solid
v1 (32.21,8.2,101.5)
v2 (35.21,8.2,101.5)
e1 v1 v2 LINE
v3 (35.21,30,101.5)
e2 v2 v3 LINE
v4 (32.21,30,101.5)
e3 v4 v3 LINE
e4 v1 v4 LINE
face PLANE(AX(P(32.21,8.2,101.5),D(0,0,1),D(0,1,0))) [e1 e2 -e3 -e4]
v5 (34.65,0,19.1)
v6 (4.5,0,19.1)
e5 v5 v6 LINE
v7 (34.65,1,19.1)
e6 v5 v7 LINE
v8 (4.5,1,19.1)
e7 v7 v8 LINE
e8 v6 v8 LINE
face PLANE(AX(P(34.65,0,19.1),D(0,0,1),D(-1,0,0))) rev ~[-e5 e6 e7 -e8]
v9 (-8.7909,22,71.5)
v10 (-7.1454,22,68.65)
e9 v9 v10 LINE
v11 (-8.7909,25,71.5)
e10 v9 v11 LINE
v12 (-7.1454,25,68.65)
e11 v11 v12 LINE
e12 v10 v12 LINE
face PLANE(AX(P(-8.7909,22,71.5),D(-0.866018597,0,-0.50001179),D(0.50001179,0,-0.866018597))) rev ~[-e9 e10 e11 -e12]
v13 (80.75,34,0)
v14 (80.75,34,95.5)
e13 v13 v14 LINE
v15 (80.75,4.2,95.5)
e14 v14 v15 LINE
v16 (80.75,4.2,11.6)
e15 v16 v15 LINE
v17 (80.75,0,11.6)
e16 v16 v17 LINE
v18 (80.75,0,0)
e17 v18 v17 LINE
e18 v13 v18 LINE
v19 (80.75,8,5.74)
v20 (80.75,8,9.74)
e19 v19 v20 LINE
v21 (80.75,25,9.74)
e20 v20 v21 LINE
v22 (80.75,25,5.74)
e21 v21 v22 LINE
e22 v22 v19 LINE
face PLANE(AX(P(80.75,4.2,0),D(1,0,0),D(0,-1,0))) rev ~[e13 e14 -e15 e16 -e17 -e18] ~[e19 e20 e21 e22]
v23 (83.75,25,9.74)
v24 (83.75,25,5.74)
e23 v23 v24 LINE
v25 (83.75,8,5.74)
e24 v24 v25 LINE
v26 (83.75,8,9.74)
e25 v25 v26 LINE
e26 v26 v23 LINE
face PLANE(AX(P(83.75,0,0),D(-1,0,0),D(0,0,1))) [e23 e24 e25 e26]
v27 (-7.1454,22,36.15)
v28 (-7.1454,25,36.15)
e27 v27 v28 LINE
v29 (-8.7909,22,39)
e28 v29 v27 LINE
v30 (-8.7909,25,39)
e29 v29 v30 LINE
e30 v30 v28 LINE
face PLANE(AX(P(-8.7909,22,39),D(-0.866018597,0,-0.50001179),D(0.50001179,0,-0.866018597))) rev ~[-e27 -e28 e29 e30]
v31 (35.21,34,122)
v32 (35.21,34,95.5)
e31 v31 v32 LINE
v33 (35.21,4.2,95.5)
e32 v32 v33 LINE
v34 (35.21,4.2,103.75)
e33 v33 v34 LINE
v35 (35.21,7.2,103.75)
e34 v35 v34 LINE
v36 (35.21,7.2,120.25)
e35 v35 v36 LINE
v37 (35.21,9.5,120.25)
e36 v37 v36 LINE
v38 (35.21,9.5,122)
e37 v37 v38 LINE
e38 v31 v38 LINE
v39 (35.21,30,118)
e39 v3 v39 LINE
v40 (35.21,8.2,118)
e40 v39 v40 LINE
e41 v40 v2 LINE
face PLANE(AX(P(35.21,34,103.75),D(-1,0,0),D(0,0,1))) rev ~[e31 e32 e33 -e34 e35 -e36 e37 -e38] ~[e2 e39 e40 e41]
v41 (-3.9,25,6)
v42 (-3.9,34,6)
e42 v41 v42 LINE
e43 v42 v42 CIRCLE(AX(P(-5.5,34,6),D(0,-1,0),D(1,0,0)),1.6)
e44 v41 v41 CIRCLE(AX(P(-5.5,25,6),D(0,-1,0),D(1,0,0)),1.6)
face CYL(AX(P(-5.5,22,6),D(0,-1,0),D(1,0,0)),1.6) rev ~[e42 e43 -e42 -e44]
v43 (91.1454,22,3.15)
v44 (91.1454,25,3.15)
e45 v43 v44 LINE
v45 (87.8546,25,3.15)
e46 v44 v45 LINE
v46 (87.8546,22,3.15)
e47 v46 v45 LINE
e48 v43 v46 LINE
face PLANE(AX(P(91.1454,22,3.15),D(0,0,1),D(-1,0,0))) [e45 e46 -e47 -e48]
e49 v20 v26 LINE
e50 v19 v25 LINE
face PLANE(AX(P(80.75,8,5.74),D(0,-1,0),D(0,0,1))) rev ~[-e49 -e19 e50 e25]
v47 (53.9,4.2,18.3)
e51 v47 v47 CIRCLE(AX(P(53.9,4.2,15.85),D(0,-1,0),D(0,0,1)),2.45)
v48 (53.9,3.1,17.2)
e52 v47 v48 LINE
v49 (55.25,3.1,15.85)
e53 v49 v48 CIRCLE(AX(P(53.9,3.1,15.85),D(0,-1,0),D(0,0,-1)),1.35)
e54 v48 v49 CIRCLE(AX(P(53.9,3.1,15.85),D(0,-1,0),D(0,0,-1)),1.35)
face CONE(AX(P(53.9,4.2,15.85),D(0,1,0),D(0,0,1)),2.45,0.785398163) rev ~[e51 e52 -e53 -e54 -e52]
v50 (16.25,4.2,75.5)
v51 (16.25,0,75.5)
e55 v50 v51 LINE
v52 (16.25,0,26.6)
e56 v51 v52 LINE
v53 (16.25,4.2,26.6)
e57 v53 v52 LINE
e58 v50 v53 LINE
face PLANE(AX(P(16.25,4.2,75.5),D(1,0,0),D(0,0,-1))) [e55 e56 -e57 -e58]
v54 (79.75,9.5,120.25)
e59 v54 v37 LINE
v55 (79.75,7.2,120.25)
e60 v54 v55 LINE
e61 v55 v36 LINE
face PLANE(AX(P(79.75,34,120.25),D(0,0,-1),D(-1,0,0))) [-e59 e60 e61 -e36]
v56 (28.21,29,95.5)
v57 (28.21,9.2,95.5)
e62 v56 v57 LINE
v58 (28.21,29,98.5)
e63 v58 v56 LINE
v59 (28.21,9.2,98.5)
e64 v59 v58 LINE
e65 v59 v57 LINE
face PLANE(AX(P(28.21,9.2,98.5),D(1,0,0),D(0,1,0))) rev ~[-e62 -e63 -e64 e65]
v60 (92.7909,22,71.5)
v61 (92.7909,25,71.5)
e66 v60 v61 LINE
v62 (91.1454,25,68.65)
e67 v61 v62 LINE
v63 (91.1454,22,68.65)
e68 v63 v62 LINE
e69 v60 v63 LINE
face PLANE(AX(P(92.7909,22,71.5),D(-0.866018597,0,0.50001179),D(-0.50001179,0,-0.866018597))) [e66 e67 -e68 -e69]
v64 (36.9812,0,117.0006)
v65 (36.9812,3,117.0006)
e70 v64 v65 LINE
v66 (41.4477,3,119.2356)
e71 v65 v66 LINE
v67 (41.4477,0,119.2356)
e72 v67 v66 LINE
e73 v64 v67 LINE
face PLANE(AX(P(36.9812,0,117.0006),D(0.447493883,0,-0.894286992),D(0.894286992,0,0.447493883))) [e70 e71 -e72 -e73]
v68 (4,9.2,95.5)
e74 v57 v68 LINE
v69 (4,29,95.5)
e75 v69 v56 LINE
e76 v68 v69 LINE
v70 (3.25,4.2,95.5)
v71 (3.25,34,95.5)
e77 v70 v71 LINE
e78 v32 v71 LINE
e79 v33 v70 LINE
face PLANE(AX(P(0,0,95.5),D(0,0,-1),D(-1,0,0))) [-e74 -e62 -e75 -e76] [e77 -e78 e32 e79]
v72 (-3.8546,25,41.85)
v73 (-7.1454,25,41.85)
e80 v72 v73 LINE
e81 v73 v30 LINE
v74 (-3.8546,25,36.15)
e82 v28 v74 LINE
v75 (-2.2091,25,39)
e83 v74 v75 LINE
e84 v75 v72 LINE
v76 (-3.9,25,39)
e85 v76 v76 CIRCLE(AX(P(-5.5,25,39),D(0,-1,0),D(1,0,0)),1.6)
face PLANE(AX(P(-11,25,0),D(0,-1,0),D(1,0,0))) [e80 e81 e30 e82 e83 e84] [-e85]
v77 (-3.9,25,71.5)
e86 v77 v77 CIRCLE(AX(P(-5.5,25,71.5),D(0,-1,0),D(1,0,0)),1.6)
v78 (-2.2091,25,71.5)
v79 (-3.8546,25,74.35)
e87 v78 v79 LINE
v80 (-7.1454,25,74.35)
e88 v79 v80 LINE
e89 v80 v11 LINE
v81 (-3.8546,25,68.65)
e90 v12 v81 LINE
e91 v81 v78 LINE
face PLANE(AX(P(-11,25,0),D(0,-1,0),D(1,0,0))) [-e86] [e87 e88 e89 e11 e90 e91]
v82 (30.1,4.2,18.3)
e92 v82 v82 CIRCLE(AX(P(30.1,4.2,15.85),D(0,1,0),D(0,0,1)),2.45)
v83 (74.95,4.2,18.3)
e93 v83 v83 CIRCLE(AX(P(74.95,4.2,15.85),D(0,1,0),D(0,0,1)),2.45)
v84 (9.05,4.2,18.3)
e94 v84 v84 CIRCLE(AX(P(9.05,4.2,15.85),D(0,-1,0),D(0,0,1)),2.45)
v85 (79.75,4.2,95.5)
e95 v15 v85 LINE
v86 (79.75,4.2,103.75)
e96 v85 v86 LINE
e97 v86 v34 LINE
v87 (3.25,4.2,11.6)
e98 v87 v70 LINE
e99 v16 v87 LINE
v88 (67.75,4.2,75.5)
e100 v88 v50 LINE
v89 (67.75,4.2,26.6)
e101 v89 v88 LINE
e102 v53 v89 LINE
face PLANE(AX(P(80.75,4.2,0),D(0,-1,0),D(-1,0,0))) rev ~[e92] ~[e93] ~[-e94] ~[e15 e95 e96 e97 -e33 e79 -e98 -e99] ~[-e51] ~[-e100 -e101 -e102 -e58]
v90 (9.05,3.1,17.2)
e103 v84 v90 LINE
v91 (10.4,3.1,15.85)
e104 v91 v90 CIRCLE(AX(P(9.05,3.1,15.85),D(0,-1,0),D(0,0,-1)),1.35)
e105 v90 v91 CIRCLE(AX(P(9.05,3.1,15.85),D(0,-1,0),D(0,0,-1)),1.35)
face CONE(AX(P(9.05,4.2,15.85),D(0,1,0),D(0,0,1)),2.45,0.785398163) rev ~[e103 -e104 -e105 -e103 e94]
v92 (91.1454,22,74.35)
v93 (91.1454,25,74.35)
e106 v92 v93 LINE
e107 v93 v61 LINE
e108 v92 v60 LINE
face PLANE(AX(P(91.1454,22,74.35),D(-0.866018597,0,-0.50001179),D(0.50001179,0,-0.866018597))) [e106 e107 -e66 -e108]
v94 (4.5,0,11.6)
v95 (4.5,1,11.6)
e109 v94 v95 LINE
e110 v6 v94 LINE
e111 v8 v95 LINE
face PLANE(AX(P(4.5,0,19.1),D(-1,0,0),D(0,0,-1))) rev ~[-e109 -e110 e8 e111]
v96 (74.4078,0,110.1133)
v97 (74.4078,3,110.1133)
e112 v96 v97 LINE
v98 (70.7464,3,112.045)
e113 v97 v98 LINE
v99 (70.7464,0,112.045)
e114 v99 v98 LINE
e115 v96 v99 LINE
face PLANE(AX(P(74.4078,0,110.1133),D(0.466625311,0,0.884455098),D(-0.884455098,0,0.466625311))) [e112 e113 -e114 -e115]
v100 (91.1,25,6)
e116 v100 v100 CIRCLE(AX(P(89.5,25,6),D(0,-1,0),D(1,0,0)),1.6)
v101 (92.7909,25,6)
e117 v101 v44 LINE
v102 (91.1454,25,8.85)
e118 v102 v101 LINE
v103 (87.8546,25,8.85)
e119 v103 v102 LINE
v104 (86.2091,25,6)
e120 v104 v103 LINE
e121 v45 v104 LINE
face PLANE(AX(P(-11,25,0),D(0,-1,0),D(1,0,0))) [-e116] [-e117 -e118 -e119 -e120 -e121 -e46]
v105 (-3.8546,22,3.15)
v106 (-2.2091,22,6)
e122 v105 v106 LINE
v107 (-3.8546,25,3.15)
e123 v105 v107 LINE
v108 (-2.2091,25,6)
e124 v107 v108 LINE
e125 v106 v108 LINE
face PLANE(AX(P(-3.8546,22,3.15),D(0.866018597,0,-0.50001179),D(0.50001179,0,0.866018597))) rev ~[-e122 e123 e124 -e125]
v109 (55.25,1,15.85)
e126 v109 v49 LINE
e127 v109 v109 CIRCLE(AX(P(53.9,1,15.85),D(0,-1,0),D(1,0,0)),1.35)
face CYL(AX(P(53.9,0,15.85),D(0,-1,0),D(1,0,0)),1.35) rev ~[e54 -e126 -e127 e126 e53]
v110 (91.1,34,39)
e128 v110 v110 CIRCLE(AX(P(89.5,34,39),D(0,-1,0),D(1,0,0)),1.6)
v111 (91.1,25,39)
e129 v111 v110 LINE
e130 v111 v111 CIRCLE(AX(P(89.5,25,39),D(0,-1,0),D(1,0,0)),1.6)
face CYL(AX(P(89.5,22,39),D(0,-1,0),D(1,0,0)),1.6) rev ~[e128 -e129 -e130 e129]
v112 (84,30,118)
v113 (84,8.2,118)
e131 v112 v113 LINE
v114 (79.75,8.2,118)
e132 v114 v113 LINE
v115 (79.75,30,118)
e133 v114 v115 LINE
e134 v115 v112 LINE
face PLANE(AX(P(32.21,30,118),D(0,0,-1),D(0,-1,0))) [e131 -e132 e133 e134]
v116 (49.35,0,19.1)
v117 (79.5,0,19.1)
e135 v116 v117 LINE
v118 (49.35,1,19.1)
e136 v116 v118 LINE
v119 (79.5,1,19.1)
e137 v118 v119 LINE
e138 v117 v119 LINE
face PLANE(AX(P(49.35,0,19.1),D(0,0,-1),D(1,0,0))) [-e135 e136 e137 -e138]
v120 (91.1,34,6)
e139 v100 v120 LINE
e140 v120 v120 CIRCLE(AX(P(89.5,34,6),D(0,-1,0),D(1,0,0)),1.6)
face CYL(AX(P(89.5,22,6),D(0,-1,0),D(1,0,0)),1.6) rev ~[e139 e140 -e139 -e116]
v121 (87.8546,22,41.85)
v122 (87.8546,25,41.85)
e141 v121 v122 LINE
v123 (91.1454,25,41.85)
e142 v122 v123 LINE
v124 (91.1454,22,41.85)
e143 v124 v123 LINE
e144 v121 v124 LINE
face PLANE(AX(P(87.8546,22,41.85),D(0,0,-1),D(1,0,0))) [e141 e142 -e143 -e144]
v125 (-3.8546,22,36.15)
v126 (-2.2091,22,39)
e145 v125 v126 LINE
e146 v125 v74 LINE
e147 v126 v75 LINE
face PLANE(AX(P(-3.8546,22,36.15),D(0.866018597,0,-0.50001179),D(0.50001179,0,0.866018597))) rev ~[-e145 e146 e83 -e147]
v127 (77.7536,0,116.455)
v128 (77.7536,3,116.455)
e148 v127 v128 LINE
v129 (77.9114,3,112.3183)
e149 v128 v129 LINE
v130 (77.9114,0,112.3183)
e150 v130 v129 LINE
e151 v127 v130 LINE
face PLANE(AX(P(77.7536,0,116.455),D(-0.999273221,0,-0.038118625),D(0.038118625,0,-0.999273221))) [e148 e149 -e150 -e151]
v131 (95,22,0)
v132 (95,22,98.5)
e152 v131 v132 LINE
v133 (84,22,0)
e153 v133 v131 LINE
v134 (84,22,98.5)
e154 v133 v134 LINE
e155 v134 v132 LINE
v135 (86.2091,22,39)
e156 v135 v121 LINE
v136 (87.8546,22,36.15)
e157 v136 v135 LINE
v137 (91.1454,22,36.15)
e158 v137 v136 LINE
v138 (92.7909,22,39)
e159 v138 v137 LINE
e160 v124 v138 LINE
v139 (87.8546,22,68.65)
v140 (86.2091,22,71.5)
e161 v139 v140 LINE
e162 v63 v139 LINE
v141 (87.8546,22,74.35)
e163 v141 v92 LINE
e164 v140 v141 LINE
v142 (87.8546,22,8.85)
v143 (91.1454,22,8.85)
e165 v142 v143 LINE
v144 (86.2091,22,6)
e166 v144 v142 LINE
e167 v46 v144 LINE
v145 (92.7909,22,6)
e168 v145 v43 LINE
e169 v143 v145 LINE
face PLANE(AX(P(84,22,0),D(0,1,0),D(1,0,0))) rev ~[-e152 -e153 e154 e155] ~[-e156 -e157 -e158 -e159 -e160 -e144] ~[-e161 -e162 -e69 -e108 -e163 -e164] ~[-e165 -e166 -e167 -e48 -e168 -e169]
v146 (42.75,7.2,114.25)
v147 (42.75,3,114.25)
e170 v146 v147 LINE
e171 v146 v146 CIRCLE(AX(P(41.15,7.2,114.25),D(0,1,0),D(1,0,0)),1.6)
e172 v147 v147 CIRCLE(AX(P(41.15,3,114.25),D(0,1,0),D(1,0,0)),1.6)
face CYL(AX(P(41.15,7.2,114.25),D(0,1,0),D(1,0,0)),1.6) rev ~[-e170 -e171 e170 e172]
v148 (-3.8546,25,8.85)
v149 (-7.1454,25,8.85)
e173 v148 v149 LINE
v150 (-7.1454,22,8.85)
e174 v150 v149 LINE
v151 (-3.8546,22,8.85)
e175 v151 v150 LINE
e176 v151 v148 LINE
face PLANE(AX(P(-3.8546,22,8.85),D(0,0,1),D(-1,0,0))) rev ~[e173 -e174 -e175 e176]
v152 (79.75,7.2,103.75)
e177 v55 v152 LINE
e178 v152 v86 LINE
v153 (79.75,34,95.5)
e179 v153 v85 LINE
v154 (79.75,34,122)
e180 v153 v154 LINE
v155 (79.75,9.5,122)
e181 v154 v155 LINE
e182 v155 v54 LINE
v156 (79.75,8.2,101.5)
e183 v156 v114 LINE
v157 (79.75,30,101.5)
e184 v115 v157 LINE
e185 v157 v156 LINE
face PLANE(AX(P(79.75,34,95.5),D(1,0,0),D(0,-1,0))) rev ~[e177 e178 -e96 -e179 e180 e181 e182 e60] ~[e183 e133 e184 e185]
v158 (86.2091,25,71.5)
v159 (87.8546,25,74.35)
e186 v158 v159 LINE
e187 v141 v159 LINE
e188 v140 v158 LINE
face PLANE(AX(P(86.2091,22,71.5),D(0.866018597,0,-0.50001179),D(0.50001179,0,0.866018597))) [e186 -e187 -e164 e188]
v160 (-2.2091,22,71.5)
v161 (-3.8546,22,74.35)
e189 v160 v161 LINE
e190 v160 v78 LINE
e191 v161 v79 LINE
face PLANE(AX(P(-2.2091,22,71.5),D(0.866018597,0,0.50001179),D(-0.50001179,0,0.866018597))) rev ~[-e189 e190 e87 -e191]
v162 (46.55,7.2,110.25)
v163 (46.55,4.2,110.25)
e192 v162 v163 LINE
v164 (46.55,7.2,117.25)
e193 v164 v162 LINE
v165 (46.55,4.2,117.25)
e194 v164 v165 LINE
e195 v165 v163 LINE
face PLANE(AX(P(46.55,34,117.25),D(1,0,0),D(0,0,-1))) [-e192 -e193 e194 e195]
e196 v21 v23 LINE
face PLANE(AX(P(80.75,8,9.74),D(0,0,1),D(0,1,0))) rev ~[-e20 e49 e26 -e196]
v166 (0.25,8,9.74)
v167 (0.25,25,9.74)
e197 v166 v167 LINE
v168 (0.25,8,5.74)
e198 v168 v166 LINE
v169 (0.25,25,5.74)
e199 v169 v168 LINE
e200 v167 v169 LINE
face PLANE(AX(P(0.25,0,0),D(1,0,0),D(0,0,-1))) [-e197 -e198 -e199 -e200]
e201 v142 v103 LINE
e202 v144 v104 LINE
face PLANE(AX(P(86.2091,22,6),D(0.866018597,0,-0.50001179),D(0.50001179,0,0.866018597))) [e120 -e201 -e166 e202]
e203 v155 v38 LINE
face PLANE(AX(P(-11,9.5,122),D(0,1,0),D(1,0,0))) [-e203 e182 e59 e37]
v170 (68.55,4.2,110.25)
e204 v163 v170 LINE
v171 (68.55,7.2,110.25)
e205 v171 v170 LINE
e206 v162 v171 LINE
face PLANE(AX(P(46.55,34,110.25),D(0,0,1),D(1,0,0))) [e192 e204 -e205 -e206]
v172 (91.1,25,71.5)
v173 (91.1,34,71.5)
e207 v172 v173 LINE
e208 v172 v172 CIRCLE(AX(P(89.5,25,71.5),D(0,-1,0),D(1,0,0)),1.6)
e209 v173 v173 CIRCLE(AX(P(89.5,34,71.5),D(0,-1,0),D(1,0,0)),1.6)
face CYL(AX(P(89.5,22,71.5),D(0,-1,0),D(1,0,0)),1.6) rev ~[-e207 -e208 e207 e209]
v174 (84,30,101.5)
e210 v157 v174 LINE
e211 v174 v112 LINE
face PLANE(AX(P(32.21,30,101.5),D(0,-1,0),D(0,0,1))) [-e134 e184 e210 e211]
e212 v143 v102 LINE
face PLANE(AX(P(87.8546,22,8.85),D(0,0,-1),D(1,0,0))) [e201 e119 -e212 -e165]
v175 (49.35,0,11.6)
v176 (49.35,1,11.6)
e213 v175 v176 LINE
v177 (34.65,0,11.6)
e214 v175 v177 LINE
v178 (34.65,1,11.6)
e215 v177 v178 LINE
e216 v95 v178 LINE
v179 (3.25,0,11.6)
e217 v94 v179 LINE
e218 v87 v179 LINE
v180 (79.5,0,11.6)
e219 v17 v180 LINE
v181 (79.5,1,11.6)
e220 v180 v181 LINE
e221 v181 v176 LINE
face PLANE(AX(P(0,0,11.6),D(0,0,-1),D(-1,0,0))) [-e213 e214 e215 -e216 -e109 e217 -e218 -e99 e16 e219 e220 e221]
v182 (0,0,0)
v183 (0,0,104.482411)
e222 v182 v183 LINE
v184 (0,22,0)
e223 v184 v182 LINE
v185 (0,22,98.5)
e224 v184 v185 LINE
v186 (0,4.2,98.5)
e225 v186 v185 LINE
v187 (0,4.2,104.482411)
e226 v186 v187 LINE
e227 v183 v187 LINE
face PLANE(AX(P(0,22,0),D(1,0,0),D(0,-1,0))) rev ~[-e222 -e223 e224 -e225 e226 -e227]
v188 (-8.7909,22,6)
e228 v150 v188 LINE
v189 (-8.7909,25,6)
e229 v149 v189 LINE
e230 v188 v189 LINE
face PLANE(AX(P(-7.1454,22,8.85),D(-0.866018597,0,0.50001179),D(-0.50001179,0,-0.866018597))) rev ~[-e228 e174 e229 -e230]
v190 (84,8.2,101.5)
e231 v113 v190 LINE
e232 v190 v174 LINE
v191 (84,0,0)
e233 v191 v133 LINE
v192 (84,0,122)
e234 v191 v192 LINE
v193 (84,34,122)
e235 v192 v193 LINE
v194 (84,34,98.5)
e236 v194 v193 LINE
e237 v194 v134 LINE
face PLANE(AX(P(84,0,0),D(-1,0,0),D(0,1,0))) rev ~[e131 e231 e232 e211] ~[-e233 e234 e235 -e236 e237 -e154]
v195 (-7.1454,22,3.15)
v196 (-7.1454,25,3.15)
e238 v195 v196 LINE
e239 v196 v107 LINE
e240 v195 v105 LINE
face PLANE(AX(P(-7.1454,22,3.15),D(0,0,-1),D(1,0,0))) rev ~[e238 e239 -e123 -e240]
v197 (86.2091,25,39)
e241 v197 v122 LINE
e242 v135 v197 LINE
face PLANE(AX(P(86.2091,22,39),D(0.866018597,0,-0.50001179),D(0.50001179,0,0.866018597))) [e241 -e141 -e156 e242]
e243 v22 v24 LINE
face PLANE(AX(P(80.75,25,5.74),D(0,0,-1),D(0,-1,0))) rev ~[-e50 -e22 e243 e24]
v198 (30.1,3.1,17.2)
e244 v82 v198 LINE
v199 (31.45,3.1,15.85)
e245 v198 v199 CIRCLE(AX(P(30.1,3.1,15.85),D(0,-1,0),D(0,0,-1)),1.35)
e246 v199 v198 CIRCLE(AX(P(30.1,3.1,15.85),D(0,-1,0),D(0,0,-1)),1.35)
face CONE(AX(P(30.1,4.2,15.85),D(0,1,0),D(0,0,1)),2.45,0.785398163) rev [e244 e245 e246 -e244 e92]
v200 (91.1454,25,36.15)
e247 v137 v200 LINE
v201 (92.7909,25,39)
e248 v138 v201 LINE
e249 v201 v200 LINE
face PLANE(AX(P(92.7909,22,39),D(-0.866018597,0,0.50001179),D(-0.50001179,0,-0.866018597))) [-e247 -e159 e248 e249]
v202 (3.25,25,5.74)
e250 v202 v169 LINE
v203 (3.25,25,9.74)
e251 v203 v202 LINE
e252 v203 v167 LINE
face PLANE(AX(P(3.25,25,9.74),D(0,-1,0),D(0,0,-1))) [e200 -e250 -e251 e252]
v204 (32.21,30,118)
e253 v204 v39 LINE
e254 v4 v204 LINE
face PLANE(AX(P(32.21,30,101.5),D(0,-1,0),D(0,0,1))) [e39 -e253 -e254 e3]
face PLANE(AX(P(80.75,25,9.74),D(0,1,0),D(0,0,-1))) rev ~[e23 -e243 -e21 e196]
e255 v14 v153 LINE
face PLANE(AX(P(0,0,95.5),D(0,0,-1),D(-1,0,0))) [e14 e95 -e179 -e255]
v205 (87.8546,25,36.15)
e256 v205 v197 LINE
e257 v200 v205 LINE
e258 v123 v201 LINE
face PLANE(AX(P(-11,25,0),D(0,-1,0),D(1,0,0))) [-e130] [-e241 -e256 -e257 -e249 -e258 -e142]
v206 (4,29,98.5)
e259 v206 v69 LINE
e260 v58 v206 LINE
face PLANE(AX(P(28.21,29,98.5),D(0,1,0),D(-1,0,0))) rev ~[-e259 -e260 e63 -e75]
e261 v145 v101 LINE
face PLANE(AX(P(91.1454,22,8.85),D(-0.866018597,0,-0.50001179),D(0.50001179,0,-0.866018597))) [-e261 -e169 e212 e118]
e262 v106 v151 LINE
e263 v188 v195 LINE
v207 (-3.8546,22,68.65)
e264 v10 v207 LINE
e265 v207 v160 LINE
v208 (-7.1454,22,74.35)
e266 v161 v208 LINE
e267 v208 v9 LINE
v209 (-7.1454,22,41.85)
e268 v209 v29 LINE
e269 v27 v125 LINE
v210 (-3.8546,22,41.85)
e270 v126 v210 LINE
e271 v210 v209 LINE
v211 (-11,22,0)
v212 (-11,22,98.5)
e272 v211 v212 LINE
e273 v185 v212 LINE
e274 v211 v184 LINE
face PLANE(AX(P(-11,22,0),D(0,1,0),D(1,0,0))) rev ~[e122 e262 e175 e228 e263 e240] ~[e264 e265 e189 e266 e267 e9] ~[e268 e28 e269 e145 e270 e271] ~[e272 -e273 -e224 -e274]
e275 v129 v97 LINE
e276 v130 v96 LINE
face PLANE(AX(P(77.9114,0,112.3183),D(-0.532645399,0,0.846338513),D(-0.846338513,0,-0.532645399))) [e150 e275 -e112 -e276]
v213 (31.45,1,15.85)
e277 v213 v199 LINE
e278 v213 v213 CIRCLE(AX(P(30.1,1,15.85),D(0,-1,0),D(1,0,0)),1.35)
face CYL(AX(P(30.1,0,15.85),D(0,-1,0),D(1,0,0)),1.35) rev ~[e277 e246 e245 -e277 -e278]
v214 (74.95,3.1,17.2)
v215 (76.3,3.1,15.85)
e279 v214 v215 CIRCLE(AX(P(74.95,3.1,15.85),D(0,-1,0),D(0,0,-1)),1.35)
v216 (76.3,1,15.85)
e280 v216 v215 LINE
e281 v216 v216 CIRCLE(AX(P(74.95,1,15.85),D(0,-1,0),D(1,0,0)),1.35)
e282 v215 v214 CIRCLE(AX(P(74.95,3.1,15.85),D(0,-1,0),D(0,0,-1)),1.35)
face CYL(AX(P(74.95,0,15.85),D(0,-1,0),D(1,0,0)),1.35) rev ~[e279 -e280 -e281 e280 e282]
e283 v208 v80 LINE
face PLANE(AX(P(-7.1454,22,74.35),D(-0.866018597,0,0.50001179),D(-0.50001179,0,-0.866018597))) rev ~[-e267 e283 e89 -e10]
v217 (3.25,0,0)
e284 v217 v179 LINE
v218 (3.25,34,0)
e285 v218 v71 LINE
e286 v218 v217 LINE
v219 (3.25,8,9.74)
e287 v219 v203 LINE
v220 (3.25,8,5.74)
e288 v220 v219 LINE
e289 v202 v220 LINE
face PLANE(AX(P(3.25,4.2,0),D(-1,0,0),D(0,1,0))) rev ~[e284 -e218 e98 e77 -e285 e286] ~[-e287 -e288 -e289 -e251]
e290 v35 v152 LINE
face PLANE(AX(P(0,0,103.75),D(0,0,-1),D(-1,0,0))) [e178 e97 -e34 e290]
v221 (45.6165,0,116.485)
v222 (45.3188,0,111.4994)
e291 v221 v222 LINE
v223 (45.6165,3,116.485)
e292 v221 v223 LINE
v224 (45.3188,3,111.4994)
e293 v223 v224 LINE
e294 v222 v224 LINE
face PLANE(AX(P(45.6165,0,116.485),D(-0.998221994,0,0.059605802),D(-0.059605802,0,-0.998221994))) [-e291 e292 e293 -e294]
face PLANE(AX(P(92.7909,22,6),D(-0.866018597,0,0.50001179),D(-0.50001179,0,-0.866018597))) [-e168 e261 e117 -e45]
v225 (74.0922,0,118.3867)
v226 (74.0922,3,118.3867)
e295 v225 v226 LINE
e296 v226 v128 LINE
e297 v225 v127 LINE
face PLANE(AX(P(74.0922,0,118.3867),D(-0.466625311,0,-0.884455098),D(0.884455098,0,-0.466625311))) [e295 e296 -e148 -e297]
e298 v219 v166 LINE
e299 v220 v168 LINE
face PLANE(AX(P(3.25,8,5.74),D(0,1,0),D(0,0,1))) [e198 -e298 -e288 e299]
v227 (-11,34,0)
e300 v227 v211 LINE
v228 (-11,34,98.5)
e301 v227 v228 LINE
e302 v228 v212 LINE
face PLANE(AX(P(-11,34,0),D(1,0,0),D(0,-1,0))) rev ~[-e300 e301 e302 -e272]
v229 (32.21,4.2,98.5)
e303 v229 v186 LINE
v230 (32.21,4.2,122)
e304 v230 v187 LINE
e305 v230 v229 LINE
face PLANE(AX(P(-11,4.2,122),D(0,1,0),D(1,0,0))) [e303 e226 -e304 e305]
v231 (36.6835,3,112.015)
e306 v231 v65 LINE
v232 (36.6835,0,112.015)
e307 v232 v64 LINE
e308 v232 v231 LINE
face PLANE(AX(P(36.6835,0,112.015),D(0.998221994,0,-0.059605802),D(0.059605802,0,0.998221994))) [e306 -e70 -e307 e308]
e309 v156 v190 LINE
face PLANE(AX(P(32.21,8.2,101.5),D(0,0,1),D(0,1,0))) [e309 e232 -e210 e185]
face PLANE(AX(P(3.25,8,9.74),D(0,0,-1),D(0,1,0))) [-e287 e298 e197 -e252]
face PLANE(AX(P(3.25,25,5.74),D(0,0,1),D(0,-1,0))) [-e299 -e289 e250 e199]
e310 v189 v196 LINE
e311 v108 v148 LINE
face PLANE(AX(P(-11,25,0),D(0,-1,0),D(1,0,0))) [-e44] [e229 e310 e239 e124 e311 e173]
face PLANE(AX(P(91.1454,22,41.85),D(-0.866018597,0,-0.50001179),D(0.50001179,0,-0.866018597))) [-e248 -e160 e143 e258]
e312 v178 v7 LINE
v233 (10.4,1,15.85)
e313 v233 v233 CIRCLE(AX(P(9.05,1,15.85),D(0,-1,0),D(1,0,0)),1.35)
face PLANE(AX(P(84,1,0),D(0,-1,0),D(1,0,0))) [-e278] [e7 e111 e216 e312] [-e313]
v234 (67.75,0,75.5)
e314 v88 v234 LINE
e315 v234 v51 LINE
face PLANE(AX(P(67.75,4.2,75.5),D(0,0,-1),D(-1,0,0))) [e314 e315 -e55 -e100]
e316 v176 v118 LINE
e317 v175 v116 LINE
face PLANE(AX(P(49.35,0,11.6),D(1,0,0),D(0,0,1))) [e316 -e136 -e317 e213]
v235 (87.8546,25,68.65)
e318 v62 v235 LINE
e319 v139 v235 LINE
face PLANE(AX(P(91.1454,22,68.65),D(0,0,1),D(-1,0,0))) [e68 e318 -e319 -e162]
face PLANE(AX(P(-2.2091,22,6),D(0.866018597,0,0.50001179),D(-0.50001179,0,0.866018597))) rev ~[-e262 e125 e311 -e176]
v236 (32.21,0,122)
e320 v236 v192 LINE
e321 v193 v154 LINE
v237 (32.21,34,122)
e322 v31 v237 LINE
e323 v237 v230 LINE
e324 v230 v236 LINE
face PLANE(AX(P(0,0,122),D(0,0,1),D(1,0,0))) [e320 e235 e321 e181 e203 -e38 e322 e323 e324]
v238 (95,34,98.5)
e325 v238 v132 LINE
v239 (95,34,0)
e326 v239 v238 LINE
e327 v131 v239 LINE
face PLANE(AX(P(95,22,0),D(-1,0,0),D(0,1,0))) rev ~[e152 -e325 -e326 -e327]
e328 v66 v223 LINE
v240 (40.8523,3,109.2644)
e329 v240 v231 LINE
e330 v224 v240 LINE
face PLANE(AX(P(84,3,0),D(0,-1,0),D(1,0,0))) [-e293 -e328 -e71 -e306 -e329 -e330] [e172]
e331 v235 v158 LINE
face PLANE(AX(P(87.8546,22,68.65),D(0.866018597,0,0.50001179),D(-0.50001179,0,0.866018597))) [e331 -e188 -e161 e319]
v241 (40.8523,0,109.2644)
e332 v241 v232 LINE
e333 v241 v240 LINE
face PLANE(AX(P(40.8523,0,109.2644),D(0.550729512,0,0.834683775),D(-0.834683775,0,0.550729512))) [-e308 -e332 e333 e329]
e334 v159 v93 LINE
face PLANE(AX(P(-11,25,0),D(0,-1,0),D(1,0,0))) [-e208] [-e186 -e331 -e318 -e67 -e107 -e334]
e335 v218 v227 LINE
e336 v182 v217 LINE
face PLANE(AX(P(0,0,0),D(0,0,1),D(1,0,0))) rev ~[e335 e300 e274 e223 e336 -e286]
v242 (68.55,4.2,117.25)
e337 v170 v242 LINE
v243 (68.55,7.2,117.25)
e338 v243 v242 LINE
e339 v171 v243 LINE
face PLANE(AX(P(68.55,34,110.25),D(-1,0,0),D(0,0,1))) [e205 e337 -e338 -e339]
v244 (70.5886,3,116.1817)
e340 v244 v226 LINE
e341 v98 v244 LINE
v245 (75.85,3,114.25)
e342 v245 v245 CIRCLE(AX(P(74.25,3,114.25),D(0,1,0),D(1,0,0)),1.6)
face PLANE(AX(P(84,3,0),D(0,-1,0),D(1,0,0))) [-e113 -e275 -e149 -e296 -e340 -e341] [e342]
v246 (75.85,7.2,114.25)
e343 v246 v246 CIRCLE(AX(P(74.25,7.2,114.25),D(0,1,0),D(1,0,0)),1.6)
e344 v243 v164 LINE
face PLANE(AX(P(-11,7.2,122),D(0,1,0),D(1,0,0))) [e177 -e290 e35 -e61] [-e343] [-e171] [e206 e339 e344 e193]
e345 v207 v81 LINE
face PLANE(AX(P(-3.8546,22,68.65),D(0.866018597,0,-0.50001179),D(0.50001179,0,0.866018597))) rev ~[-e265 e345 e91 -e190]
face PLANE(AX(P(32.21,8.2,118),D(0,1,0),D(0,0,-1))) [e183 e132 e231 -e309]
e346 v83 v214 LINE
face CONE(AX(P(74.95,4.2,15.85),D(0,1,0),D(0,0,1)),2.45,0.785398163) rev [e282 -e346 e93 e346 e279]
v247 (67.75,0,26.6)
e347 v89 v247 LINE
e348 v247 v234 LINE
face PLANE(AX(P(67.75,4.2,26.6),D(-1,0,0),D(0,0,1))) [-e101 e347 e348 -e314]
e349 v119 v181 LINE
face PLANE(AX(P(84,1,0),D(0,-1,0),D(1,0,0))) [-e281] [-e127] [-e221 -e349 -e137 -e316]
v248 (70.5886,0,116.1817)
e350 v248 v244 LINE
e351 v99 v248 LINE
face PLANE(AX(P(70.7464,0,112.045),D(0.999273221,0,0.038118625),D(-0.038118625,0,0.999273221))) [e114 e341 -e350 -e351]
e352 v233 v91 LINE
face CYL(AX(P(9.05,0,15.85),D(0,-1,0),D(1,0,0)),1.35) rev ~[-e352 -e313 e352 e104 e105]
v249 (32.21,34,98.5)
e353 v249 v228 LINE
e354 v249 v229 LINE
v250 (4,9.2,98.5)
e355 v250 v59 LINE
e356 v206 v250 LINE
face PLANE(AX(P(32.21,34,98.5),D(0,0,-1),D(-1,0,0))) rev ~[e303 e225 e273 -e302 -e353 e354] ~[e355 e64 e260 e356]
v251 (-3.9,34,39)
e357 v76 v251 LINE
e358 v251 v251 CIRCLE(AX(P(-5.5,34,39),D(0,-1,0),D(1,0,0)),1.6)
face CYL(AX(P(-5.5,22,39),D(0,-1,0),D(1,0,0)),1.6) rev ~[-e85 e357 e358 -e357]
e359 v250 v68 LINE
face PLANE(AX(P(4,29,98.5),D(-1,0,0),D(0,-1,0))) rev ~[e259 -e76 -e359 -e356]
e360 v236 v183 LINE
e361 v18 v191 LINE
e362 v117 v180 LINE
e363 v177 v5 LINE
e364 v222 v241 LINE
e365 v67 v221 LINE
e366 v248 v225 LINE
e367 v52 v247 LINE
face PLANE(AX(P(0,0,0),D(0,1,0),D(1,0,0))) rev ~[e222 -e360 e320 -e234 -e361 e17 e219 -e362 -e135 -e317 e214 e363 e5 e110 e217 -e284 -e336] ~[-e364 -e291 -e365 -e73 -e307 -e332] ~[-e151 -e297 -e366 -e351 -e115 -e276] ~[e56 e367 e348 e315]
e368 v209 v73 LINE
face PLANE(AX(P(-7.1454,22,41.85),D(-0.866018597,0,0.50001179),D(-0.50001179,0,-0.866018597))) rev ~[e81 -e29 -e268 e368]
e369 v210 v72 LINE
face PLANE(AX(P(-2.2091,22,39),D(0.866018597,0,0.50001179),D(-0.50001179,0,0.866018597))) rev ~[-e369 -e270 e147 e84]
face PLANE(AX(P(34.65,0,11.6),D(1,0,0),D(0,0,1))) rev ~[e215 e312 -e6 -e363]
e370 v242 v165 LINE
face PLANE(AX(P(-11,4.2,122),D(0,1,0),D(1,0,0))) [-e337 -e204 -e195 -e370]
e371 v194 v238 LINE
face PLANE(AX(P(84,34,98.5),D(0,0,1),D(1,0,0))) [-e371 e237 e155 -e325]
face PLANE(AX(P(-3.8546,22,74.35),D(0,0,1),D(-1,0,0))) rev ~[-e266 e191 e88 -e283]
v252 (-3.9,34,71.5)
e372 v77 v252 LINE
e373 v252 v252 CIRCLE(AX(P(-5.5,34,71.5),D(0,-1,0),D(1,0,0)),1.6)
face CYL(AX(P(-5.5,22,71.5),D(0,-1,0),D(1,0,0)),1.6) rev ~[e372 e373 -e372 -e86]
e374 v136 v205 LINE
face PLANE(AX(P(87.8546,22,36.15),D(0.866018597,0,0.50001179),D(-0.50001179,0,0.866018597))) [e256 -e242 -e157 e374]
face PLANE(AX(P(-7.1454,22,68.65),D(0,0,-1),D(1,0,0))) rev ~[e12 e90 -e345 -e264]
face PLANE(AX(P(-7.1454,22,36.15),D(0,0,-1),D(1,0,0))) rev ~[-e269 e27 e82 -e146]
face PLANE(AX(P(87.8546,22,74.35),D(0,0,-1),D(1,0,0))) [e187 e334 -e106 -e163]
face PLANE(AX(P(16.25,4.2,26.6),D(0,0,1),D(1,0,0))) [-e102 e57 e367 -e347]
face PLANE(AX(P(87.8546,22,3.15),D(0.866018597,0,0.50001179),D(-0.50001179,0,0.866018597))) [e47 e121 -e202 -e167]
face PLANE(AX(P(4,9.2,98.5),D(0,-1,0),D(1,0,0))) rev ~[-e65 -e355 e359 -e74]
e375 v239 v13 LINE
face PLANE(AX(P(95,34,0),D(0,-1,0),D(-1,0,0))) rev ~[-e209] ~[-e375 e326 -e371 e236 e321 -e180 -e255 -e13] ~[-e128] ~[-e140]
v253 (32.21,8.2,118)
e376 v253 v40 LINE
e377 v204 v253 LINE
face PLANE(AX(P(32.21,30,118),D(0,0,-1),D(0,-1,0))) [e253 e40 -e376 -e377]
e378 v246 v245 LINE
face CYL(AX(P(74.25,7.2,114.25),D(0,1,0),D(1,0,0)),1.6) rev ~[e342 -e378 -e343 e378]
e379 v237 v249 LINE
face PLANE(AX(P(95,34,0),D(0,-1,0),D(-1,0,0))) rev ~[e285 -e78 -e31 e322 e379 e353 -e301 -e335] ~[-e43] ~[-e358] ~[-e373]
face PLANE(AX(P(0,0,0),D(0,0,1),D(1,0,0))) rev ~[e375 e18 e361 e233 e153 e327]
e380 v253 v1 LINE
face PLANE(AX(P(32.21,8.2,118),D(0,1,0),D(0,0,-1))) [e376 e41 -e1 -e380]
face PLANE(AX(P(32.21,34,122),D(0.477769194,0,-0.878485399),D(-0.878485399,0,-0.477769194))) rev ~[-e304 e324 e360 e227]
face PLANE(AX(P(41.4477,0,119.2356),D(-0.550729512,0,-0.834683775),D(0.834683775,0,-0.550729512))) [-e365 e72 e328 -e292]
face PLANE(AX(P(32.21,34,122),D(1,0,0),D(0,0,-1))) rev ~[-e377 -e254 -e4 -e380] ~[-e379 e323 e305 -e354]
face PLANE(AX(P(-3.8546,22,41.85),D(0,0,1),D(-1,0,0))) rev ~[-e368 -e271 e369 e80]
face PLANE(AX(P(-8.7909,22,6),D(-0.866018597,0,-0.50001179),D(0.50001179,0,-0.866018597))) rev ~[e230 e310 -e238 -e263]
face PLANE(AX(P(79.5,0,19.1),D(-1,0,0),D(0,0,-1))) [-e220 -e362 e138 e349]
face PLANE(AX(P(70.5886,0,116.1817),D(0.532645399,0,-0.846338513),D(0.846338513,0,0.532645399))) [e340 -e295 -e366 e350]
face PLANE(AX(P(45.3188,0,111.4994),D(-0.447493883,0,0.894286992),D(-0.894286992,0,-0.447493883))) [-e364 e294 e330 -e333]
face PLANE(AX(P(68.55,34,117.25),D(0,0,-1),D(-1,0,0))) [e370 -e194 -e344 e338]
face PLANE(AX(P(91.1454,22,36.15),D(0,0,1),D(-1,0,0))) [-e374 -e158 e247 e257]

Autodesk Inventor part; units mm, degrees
sketch "Эскиз1" plane through (0, 0, 0) normal (0, 0, 1) x (1, 0, 0)
  line L0 (0, 0) -> (84, 0)
  line L1 (84, 0) -> (84, 22)
  line L2 (84, 22) -> (95, 22)
  line L3 (95, 22) -> (95, 34)
  line L4 (95, 34) -> (-11, 34)
  line L5 (-11, 34) -> (-11, 22)
  line L6 (-11, 22) -> (0, 22)
  line L7 (0, 22) -> (0, 0)
  dimension "d0" = 84
  dimension "d1" = 22
  dimension "d2" = 11
  dimension "d3" = 12
  dimension "d4" = 106
extrude "Выдавливание1" add sketch "Эскиз1" along normal blind 122
sketch "Эскиз2" plane through (0, 0, 0) normal (0, 0, -1) x (-1, 0, 0)
  line L0 (-84, 0) -> (-84, 22) construction
  line L1 (0, 0) -> (-84, 0) construction
  line L2 (0, 22) -> (0, 0) construction
  line L3 (11, 22) -> (0, 22) construction
  line L4 (11, 34) -> (11, 22) construction
  line L5 (-95, 34) -> (11, 34) construction
  line L6 (-95, 22) -> (-95, 34) construction
  line L7 (-84, 22) -> (-95, 22) construction
  line L8 (-95, 34) -> (11, 34) construction
  line L9 (-80.75, 34) -> (-80.75, 4.2)
  line L10 (-80.75, 4.2) -> (-3.25, 4.2)
  line L11 (-3.25, 4.2) -> (-3.25, 34)
  line L12 (-80.75, 34) -> (-3.25, 34)
  dimension "d7" = 4.2
  dimension "d8" = 14.25
  dimension "d9" = 14.25
extrude "Выдавливание2" cut sketch "Эскиз2" against normal blind 95.5
sketch "Эскиз3" plane through (0, 0, 95.5) normal (0, 0, -1) x (-1, 0, 0)
  line L0 (-3.25, 4.2) -> (-80.75, 4.2) construction
  line L1 (-3.25, 34) -> (-3.25, 4.2) construction
  line L2 (-80.75, 34) -> (-3.25, 34) construction
  line L3 (-80.75, 4.2) -> (-80.75, 34) construction
  line L4 (-80.75, 4.2) -> (-80.75, 34) construction
  line L5 (-95, 34) -> (11, 34) construction
  line L6 (-79.75, 34) -> (-79.75, 4.2)
  line L7 (-35.21, 34) -> (-35.21, 4.2)
  line L8 (-79.75, 34) -> (-35.21, 34)
  line L9 (-79.75, 4.2) -> (-35.21, 4.2)
  line L10 (-3.25, 4.2) -> (-80.75, 4.2) construction
  point P0 (0, 0)
  dimension "d12" = 1
  dimension "d13" = 44.54
extrude "Выдавливание3" cut sketch "Эскиз3" against normal blind 8.25
sketch "Эскиз4" plane through (-11, 34, 122) normal (0, 1, 0) x (1, 0, 0)
  line L0 (90.75, 26.5) -> (90.75, 18.25) construction
  line L1 (90.75, 18.25) -> (46.21, 18.25) construction
  line L2 (46.21, 18.25) -> (46.21, 26.5) construction
  line L3 (46.21, 26.5) -> (14.25, 26.5) construction
  line L4 (14.25, 26.5) -> (14.25, 122) construction
  line L5 (14.25, 122) -> (0, 122) construction
  line L6 (0, 122) -> (0, 0) construction
  line L7 (106, 0) -> (0, 0) construction
  line L8 (106, 122) -> (106, 0) construction
  line L9 (106, 122) -> (91.75, 122) construction
  line L10 (91.75, 122) -> (91.75, 26.5) construction
  line L11 (91.75, 26.5) -> (90.75, 26.5) construction
  line L12 (106, 122) -> (106, 0) construction
  line L13 (106, 35.5) -> (0, 35.5) construction
  line L14 (0, 122) -> (0, 0) construction
  line L15 (106, 26.5) -> (0, 26.5) construction
  line L16 (106, 23.5) -> (0, 23.5) construction
  line L17 (43.21, 0) -> (43.21, 23.5)
  line L18 (95, 23.5) -> (95, 0)
  line L19 (43.21, 0) -> (0, 23.5)
  line L20 (95, 0) -> (90.75, 0)
  line L21 (11, 0) -> (95, 0) construction
  line L22 (90.75, 0) -> (90.75, 18.25)
  line L23 (46.21, 18.25) -> (90.75, 18.25) projected
  line L24 (90.75, 18.25) -> (46.21, 18.25)
  line L25 (46.21, 18.25) -> (46.21, 0)
  line L26 (43.21, 0) -> (46.21, 0)
  line L27 (43.21, 23.5) -> (0, 23.5)
  line L28 (95, 23.5) -> (106, 23.5)
  line L29 (106, 23.5) -> (106, 0)
  line L30 (106, 0) -> (95, 0)
  line L31 (43.21, 0) -> (0, 0)
  line L32 (0, 0) -> (0, 23.5)
  line L33 (90.75, 1.75) -> (46.21, 1.75)
  line L34 (90.75, 0) -> (46.21, 0)
  line L35 (79.55, 4.75) -> (57.55, 4.75)
  line L36 (57.55, 4.75) -> (57.55, 11.75)
  line L37 (57.55, 11.75) -> (79.55, 11.75)
  line L38 (79.55, 11.75) -> (79.55, 4.75)
  point P0 (11, 122)
  dimension "d16" = 35.5
  dimension "d17" = 9
  dimension "d18" = 3
  dimension "d19" = 3
  dimension "d20" = 4.25
  dimension "d21" = 1.75
  dimension "d32" = 22
  dimension "d34" = 3
  dimension "d35" = 11.2
  dimension "d36" = 7
extrude "Выдавливание4" cut sketch "Эскиз4" against normal blind 26.8 contours L25 L23 L22 L33 | L35 L36 L37 L38
extrude "Выдавливание5" cut sketch "Эскиз4" against normal blind 35.3 contours L18 L28 L29 L30
extrude "Выдавливание6" cut sketch "Эскиз4" against normal blind 57.55 contours L31 L32 L19
extrude "Выдавливание7" cut sketch "Эскиз4" against normal blind 24.5 contours L25 L33 L22 L34
extrude "Выдавливание8" cut sketch "Эскиз4" against normal up to surface (29.8 mm away) contours L19 L27 L17
extrude "Выдавливание9" cut sketch "Эскиз4" against normal up to surface (29.8 mm away) contours L35 L36 L37 L38
sketch "Эскиз5" plane through (-11, 34, 98.5) normal (0, 0, 1) x (1, 0, 0)
  line L0 (39.21, -5) -> (15, -5)
  line L1 (15, -5) -> (15, -24.8)
  line L2 (15, -24.8) -> (39.21, -24.8)
  line L3 (39.21, -24.8) -> (39.21, -5)
  line L4 (0, 0) -> (43.21, 0) construction
  line L5 (43.21, 0) -> (43.21, -29.8) construction
  line L6 (43.21, -29.8) -> (11, -29.8) construction
  line L7 (11, -29.8) -> (11, -12) construction
  point P0 (11, -34)
  dimension "d39" = 5
  dimension "d40" = 4
  dimension "d41" = 5
  dimension "d42" = 4
extrude "Выдавливание10" cut sketch "Эскиз5" against normal through all
sketch "Эскиз6" plane through (0, 0, 0) normal (0, 0, -1) x (-1, 0, 0)
  line L0 (-3.25, 4.2) -> (-80.75, 4.2) construction
  line L1 (0, 0) -> (-84, 0) construction
  line L2 (-80.75, 4.2) -> (-80.75, 34) construction
  line L3 (-80.75, 4.2) -> (-80.75, 0)
  line L4 (-3.25, 4.2) -> (-3.25, 0)
  line L5 (-80.75, 0) -> (-3.25, 0)
  line L6 (-3.25, 34) -> (-3.25, 4.2) construction
  line L7 (-80.75, 4.2) -> (-3.25, 4.2)
extrude "Выдавливание11" cut sketch "Эскиз6" against normal blind 11.6
sketch "Эскиз7" plane through (-11, 22, 0) normal (0, -1, 0) x (1, 0, 0)
  line L0 (7.1454, 3.15) -> (8.7909, 6)
  line L1 (8.7909, 6) -> (7.1454, 8.85)
  line L2 (2.2091, 6) -> (3.8546, 3.15)
  line L3 (7.1454, 8.85) -> (3.8546, 8.85)
  line L4 (3.8546, 8.85) -> (2.2091, 6)
  line L5 (3.8546, 3.15) -> (7.1454, 3.15)
  circle A0 centre (5.5, 6) radius 1.6
  line L6 (0, 0) -> (11, 0) construction
  line L7 (11, 98.5) -> (0, 98.5) construction
  line L8 (11, 98.5) -> (0, 98.5) construction
  line L9 (0, 0) -> (0, 98.5) construction
  line L10 (0, 0) -> (11, 0) construction
  line L11 (11, 0) -> (11, 98.5) construction
  line L12 (5.5, 0) -> (5.5, 98.5) construction
  line L13 (11, 6) -> (0, 6) construction
  line L14 (0, 0) -> (0, 98.5) construction
  line L15 (11, 0) -> (11, 98.5) construction
  line L16 (11, 39) -> (0, 39) construction
  line L17 (11, 71.5) -> (0, 71.5) construction
  line L18 (7.1454, 41.85) -> (3.8546, 41.85)
  line L19 (8.7909, 39) -> (7.1454, 41.85)
  line L20 (3.8546, 41.85) -> (2.2091, 39)
  circle A1 centre (5.5, 39) radius 1.6
  line L21 (7.1454, 36.15) -> (8.7909, 39)
  line L22 (3.8546, 36.15) -> (7.1454, 36.15)
  line L23 (2.2091, 39) -> (3.8546, 36.15)
  line L24 (7.1454, 74.35) -> (3.8546, 74.35)
  line L25 (8.7909, 71.5) -> (7.1454, 74.35)
  line L26 (3.8546, 74.35) -> (2.2091, 71.5)
  circle A2 centre (5.5, 71.5) radius 1.6
  line L27 (7.1454, 68.65) -> (8.7909, 71.5)
  line L28 (3.8546, 68.65) -> (7.1454, 68.65)
  line L29 (2.2091, 71.5) -> (3.8546, 68.65)
  line L30 (53, -58.192) -> (53, 154.452)
  line L31 (98.8546, 8.85) -> (102.1454, 8.85)
  line L32 (97.2091, 6) -> (98.8546, 8.85)
  line L33 (102.1454, 8.85) -> (103.7909, 6)
  circle A3 centre (100.5, 6) radius 1.6
  line L34 (98.8546, 3.15) -> (97.2091, 6)
  line L35 (102.1454, 3.15) -> (98.8546, 3.15)
  line L36 (103.7909, 6) -> (102.1454, 3.15)
  line L37 (98.8546, 41.85) -> (102.1454, 41.85)
  line L38 (102.1454, 41.85) -> (103.7909, 39)
  line L39 (97.2091, 39) -> (98.8546, 41.85)
  line L40 (103.7909, 39) -> (102.1454, 36.15)
  line L41 (98.8546, 36.15) -> (97.2091, 39)
  circle A4 centre (100.5, 39) radius 1.6
  line L42 (102.1454, 36.15) -> (98.8546, 36.15)
  line L43 (98.8546, 74.35) -> (102.1454, 74.35)
  line L44 (102.1454, 74.35) -> (103.7909, 71.5)
  line L45 (97.2091, 71.5) -> (98.8546, 74.35)
  line L46 (103.7909, 71.5) -> (102.1454, 68.65)
  line L47 (98.8546, 68.65) -> (97.2091, 71.5)
  circle A5 centre (100.5, 71.5) radius 1.6
  line L48 (102.1454, 68.65) -> (98.8546, 68.65)
  point P0 (5.5, 6)
  point P1 (100.5, 6)
  dimension "d47" = 120
  dimension "d48" = 120
  dimension "d49" = 5.7
  dimension "d50" = 3.2
  dimension "d51" = 5.5
  dimension "d52" = 6
  dimension "d53" = 33
  dimension "d54" = 32.5
  dimension "d55" = 120
  dimension "d56" = 120
  dimension "d57" = 5.7
  dimension "d58" = 3.2
  dimension "d59" = 120
  dimension "d60" = 120
  dimension "d61" = 5.7
  dimension "d62" = 3.2
  dimension "d63" = 106
extrude "Выдавливание12" cut sketch "Эскиз7" against normal through all contours A0 | A1 | A2 | A3 | A4 | A5
extrude "Выдавливание13" cut sketch "Эскиз7" against normal blind 3 contours L5 L2 L4 L3 L1 L0 | L19 L21 L22 L23 L20 L18 | L25 L27 L28 L29 L26 L24 | A2 | L31 L33 L36 L35 L34 L32 | A3 | L37 L38 L40 L42 L41 L39 | A4 | L43 L44 L46 L48 L47 L45
sketch "Эскиз8" plane through (32.21, 34, 98.5) normal (-1, 0, 0) x (0, 0, 1)
  line L0 (3, -4) -> (19.5, -4)
  line L1 (19.5, -4) -> (19.5, -25.8)
  line L2 (19.5, -25.8) -> (3, -25.8)
  line L3 (3, -25.8) -> (3, -4)
  line L4 (23.5, -29.8) -> (0, -29.8) construction
  line L5 (23.5, 0) -> (23.5, -29.8) construction
  line L6 (0, 0) -> (23.5, 0) construction
  line L7 (0, 0) -> (0, -29.8) construction
  point P0 (-98.5, -34)
  dimension "d68" = 4
  dimension "d69" = 3
  dimension "d70" = 4
  dimension "d71" = 4
extrude "Выдавливание14" cut sketch "Эскиз8" against normal through all
sketch "Эскиз9" plane through (35.21, 4.2, 103.75) normal (0, 1, 0) x (1, 0, 0)
  line L0 (-18.96, 77.15) -> (32.54, 77.15)
  line L1 (32.54, 77.15) -> (32.54, 28.25)
  line L2 (32.54, 28.25) -> (-18.96, 28.25)
  line L3 (-18.96, 28.25) -> (-18.96, 77.15)
  line L4 (45.54, 92.15) -> (-31.96, 92.15) construction
  line L5 (-31.96, 92.15) -> (-31.96, 8.25) construction
  line L6 (-31.96, 8.25) -> (0, 8.25) construction
  line L7 (0, 8.25) -> (0, 0) construction
  line L8 (0, 0) -> (44.54, 0) construction
  line L9 (44.54, 8.25) -> (44.54, 0) construction
  line L10 (44.54, 8.25) -> (45.54, 8.25) construction
  line L11 (45.54, 92.15) -> (45.54, 8.25) construction
  point P0 (-35.21, 103.75)
  dimension "d74" = 15
  dimension "d75" = 13
  dimension "d76" = 20
  dimension "d77" = 13
extrude "Выдавливание15" cut sketch "Эскиз9" against normal through all
sketch "Эскиз10" plane through (-11, 7.2, 122) normal (0, 1, 0) x (1, 0, 0)
  circle A0 centre (52.15, 7.75) radius 1.6 projected
  circle A1 centre (85.25, 7.75) radius 1.6 projected
  point P0 (11, 122)
extrude "Выдавливание16" cut sketch "Эскиз10" against normal through all
sketch "Эскиз11" plane through (84, 0, 0) normal (0, -1, 0) x (1, 0, 0)
  circle A0 centre (-9.75, 114.25) radius 1.6 construction
  circle A1 centre (-42.85, 114.25) radius 1.6 construction
  line L0 (-16.25, 75.5) -> (-16.25, 26.6) construction
  line L1 (-16.25, 26.6) -> (-67.75, 26.6) construction
  line L2 (-67.75, 26.6) -> (-67.75, 75.5) construction
  line L3 (-67.75, 75.5) -> (-16.25, 75.5) construction
  line L4 (-80.75, 0) -> (-80.75, 11.6) construction
  line L5 (-80.75, 11.6) -> (-3.25, 11.6) construction
  line L6 (-3.25, 11.6) -> (-3.25, 0) construction
  line L7 (-84, 0) -> (-80.75, 0) construction
  line L8 (0, 0) -> (0, 122) construction
  line L9 (-51.79, 122) -> (0, 122) construction
  line L10 (-51.79, 122) -> (-84, 104.4824) construction
  line L11 (-84, 0) -> (-84, 104.4824) construction
  line L12 (-3.25, 0) -> (0, 0) construction
  line L13 (-4.5, 11.6) -> (-34.65, 11.6)
  line L14 (-34.65, 11.6) -> (-34.65, 19.1)
  line L15 (-34.65, 19.1) -> (-4.5, 19.1)
  line L16 (-4.5, 19.1) -> (-4.5, 11.6)
  line L17 (-80.75, 11.6) -> (-3.25, 11.6) construction
  circle A2 centre (-9.05, 15.85) radius 1.35
  circle A3 centre (-30.1, 15.85) radius 1.35
  line L18 (-42, -14.4587) -> (-42, 143.3531)
  line L19 (-95, 0) -> (-95, 98.5) construction
  line L20 (-79.5, 11.6) -> (-49.35, 11.6)
  line L21 (-49.35, 11.6) -> (-49.35, 19.1)
  line L22 (-49.35, 19.1) -> (-79.5, 19.1)
  line L23 (-79.5, 19.1) -> (-79.5, 11.6)
  circle A4 centre (-74.95, 15.85) radius 1.35
  circle A5 centre (-53.9, 15.85) radius 1.35
  dimension "d82" = 4.5
  dimension "d83" = 7.5
  dimension "d84" = 30.15
  dimension "d85" = 2.7
  dimension "d86" = 2.7
  dimension "d87" = 21.05
  dimension "d88" = 4.55
  dimension "d89" = 4.25
  dimension "d91" = 4.25
  dimension "d92" = 106
extrude "Выдавливание17" cut sketch "Эскиз11" against normal through all contours A2 | A3 | A4 | A5
extrude "Выдавливание18" cut sketch "Эскиз11" against normal blind 1
sketch "Эскиз12" plane through (84, 0, 0) normal (0, -1, 0) x (1, 0, 0)
  circle A0 centre (-9.75, 114.25) radius 1.6 construction
  circle A1 centre (-42.85, 114.25) radius 1.6 construction
  line L0 (-13.2536, 112.045) -> (-13.4114, 116.1817)
  line L1 (-13.4114, 116.1817) -> (-9.9078, 118.3867)
  line L2 (-9.9078, 118.3867) -> (-6.2464, 116.455)
  line L3 (-6.2464, 116.455) -> (-6.0886, 112.3183)
  line L4 (-6.0886, 112.3183) -> (-9.5922, 110.1133)
  line L5 (-9.5922, 110.1133) -> (-13.2536, 112.045)
  line L6 (-38.6812, 111.4994) -> (-43.1477, 109.2644)
  line L7 (-43.1477, 109.2644) -> (-47.3165, 112.015)
  line L8 (-47.3165, 112.015) -> (-47.0188, 117.0006)
  line L9 (-47.0188, 117.0006) -> (-42.5523, 119.2356)
  line L10 (-42.5523, 119.2356) -> (-38.3835, 116.485)
  line L11 (-38.3835, 116.485) -> (-38.6812, 111.4994)
  line L12 (-51.79, 122) -> (0, 122) construction
  point P0 (-84, 0)
extrude "Выдавливание19" cut sketch "Эскиз12" against normal blind 3
ref_plane "РабПлоскость1" through (42, 0, 0) normal (-1, 0, 0) x (0, 0, 1)
sketch "Эскиз14" plane through (3.25, 0, 0) normal (1, 0, 0) x (0, 0, -1)
  line L0 (-9.24, 24.5) -> (-6.24, 24.5) construction
  line L1 (-9.24, 8.5) -> (-6.24, 8.5) construction
  line L2 (-6.24, 24.5) -> (-6.24, 8.5) construction
  line L3 (-9.24, 24.5) -> (-9.24, 8.5) construction
  line L4 (-5.74, 8) -> (-9.74, 8)
  line L5 (-9.74, 8) -> (-9.74, 25)
  line L6 (-9.74, 25) -> (-5.74, 25)
  line L7 (-5.74, 25) -> (-5.74, 8)
  point P0 (0, 0)
  dimension "d103" = 0.5
sketch "Эскиз15" plane through (80.75, 0, 0) normal (-1, 0, 0) x (0, 0, 1)
  line L0 (9.24, 24.5) -> (6.24, 24.5) construction
  line L1 (9.24, 8.5) -> (6.24, 8.5) construction
  line L2 (6.24, 24.5) -> (6.24, 8.5) construction
  line L3 (9.24, 24.5) -> (9.24, 8.5) construction
  line L4 (5.74, 8) -> (9.74, 8)
  line L5 (9.74, 8) -> (9.74, 25)
  line L6 (9.74, 25) -> (5.74, 25)
  line L7 (5.74, 25) -> (5.74, 8)
  point P0 (0, 0)
  dimension "d106" = 0.5
extrude "Выдавливание20" cut sketch "Эскиз14" against normal blind 3
extrude "Выдавливание21" cut sketch "Эскиз15" against normal blind 3
sketch "Эскиз16" plane through (35.21, 4.2, 103.75) normal (0, 1, 0) x (1, 0, 0)
  circle A0 centre (-26.16, 87.9) radius 1.35 construction
  circle A1 centre (-5.11, 87.9) radius 1.35 construction
  circle A2 centre (18.69, 87.9) radius 1.35 construction
  circle A3 centre (39.74, 87.9) radius 1.35 construction
  point P0 (-35.21, 103.75)
ref_plane "РабПлоскость2" through (9.05, 4.2, 15.85) normal (1, 0, 0) x (0, 0, -1)
ref_plane "РабПлоскость3" through (30.1, 4.2, 15.85) normal (1, 0, 0) x (0, 0, -1)
ref_plane "РабПлоскость4" through (42, 0, 0) normal (1, 0, 0) x (0, 0, -1)
sketch "Эскиз17" plane through (9.05, 4.2, 15.85) normal (1, 0, 0) x (0, 0, -1)
  line L0 (7.6917, -2.2286) -> (7.6917, 0.2714)
  line L1 (10.7924, -2.1286) -> (3.8592, -2.1286) construction
  line L2 (7.6917, 0.2714) -> (5.2917, -2.1286)
  line L3 (7.6917, -0.7786) -> (6.6417, -0.7786)
  line L4 (4.4917, -0.7786) -> (7.6917, -0.7786) construction
  line L5 (0, 2.965) -> (0, -10.627)
  line L6 (0, 0) -> (-2.45, 0)
  line L7 (4.25, 0) -> (-79.65, 0) projected
  line L8 (-2.45, 0) -> (0, -2.45)
  point P0 (15.85, -4.2)
  point P1 (7.6917, -0.7786)
  point P2 (7.6917, -2.1286)
  point P3 (6.0917, -2.1286)
  point P4 (6.0917, -1.3286)
  point P5 (4.4917, -2.1286)
  point P6 (4.4917, -2.1286)
  dimension "d109" = 4.8
  dimension "d110" = 1.05
  dimension "d111" = 2.45
  dimension "d112" = 45
  dimension "d113" = 45
revolve "Вращение1" cut sketch "Эскиз17" angle 360 about axis through (9.05, 7.165, 15.85) along (0, -1, 0) contours L5 L8 L6
sketch "Эскиз18" plane through (30.1, 0, 0) normal (1, 0, 0) x (0, 0, -1)
  line L0 (-17.2, 4.2) -> (-14.5, 4.2) construction
  line L1 (-15.85, -1.0746) -> (-15.85, 5.5754)
  line L2 (-15.85, 4.2) -> (-18.3, 4.2)
  line L3 (-18.3, 4.2) -> (-13.4, 4.2) projected
  line L4 (-18.3, 4.2) -> (-15.85, 1.75)
  point P0 (0, 0)
  dimension "d116" = 45
  dimension "d117" = 4.9
revolve "Вращение2" cut sketch "Эскиз18" angle 360 about axis through (30.1, -1.0746, 15.85) along (0, 1, 0)
mirror "Зеркальное отражение1" about plane through (42, 0, 0) normal (1, 0, 0) of "Вращение1", "Вращение2"
properties part number "корпус"
